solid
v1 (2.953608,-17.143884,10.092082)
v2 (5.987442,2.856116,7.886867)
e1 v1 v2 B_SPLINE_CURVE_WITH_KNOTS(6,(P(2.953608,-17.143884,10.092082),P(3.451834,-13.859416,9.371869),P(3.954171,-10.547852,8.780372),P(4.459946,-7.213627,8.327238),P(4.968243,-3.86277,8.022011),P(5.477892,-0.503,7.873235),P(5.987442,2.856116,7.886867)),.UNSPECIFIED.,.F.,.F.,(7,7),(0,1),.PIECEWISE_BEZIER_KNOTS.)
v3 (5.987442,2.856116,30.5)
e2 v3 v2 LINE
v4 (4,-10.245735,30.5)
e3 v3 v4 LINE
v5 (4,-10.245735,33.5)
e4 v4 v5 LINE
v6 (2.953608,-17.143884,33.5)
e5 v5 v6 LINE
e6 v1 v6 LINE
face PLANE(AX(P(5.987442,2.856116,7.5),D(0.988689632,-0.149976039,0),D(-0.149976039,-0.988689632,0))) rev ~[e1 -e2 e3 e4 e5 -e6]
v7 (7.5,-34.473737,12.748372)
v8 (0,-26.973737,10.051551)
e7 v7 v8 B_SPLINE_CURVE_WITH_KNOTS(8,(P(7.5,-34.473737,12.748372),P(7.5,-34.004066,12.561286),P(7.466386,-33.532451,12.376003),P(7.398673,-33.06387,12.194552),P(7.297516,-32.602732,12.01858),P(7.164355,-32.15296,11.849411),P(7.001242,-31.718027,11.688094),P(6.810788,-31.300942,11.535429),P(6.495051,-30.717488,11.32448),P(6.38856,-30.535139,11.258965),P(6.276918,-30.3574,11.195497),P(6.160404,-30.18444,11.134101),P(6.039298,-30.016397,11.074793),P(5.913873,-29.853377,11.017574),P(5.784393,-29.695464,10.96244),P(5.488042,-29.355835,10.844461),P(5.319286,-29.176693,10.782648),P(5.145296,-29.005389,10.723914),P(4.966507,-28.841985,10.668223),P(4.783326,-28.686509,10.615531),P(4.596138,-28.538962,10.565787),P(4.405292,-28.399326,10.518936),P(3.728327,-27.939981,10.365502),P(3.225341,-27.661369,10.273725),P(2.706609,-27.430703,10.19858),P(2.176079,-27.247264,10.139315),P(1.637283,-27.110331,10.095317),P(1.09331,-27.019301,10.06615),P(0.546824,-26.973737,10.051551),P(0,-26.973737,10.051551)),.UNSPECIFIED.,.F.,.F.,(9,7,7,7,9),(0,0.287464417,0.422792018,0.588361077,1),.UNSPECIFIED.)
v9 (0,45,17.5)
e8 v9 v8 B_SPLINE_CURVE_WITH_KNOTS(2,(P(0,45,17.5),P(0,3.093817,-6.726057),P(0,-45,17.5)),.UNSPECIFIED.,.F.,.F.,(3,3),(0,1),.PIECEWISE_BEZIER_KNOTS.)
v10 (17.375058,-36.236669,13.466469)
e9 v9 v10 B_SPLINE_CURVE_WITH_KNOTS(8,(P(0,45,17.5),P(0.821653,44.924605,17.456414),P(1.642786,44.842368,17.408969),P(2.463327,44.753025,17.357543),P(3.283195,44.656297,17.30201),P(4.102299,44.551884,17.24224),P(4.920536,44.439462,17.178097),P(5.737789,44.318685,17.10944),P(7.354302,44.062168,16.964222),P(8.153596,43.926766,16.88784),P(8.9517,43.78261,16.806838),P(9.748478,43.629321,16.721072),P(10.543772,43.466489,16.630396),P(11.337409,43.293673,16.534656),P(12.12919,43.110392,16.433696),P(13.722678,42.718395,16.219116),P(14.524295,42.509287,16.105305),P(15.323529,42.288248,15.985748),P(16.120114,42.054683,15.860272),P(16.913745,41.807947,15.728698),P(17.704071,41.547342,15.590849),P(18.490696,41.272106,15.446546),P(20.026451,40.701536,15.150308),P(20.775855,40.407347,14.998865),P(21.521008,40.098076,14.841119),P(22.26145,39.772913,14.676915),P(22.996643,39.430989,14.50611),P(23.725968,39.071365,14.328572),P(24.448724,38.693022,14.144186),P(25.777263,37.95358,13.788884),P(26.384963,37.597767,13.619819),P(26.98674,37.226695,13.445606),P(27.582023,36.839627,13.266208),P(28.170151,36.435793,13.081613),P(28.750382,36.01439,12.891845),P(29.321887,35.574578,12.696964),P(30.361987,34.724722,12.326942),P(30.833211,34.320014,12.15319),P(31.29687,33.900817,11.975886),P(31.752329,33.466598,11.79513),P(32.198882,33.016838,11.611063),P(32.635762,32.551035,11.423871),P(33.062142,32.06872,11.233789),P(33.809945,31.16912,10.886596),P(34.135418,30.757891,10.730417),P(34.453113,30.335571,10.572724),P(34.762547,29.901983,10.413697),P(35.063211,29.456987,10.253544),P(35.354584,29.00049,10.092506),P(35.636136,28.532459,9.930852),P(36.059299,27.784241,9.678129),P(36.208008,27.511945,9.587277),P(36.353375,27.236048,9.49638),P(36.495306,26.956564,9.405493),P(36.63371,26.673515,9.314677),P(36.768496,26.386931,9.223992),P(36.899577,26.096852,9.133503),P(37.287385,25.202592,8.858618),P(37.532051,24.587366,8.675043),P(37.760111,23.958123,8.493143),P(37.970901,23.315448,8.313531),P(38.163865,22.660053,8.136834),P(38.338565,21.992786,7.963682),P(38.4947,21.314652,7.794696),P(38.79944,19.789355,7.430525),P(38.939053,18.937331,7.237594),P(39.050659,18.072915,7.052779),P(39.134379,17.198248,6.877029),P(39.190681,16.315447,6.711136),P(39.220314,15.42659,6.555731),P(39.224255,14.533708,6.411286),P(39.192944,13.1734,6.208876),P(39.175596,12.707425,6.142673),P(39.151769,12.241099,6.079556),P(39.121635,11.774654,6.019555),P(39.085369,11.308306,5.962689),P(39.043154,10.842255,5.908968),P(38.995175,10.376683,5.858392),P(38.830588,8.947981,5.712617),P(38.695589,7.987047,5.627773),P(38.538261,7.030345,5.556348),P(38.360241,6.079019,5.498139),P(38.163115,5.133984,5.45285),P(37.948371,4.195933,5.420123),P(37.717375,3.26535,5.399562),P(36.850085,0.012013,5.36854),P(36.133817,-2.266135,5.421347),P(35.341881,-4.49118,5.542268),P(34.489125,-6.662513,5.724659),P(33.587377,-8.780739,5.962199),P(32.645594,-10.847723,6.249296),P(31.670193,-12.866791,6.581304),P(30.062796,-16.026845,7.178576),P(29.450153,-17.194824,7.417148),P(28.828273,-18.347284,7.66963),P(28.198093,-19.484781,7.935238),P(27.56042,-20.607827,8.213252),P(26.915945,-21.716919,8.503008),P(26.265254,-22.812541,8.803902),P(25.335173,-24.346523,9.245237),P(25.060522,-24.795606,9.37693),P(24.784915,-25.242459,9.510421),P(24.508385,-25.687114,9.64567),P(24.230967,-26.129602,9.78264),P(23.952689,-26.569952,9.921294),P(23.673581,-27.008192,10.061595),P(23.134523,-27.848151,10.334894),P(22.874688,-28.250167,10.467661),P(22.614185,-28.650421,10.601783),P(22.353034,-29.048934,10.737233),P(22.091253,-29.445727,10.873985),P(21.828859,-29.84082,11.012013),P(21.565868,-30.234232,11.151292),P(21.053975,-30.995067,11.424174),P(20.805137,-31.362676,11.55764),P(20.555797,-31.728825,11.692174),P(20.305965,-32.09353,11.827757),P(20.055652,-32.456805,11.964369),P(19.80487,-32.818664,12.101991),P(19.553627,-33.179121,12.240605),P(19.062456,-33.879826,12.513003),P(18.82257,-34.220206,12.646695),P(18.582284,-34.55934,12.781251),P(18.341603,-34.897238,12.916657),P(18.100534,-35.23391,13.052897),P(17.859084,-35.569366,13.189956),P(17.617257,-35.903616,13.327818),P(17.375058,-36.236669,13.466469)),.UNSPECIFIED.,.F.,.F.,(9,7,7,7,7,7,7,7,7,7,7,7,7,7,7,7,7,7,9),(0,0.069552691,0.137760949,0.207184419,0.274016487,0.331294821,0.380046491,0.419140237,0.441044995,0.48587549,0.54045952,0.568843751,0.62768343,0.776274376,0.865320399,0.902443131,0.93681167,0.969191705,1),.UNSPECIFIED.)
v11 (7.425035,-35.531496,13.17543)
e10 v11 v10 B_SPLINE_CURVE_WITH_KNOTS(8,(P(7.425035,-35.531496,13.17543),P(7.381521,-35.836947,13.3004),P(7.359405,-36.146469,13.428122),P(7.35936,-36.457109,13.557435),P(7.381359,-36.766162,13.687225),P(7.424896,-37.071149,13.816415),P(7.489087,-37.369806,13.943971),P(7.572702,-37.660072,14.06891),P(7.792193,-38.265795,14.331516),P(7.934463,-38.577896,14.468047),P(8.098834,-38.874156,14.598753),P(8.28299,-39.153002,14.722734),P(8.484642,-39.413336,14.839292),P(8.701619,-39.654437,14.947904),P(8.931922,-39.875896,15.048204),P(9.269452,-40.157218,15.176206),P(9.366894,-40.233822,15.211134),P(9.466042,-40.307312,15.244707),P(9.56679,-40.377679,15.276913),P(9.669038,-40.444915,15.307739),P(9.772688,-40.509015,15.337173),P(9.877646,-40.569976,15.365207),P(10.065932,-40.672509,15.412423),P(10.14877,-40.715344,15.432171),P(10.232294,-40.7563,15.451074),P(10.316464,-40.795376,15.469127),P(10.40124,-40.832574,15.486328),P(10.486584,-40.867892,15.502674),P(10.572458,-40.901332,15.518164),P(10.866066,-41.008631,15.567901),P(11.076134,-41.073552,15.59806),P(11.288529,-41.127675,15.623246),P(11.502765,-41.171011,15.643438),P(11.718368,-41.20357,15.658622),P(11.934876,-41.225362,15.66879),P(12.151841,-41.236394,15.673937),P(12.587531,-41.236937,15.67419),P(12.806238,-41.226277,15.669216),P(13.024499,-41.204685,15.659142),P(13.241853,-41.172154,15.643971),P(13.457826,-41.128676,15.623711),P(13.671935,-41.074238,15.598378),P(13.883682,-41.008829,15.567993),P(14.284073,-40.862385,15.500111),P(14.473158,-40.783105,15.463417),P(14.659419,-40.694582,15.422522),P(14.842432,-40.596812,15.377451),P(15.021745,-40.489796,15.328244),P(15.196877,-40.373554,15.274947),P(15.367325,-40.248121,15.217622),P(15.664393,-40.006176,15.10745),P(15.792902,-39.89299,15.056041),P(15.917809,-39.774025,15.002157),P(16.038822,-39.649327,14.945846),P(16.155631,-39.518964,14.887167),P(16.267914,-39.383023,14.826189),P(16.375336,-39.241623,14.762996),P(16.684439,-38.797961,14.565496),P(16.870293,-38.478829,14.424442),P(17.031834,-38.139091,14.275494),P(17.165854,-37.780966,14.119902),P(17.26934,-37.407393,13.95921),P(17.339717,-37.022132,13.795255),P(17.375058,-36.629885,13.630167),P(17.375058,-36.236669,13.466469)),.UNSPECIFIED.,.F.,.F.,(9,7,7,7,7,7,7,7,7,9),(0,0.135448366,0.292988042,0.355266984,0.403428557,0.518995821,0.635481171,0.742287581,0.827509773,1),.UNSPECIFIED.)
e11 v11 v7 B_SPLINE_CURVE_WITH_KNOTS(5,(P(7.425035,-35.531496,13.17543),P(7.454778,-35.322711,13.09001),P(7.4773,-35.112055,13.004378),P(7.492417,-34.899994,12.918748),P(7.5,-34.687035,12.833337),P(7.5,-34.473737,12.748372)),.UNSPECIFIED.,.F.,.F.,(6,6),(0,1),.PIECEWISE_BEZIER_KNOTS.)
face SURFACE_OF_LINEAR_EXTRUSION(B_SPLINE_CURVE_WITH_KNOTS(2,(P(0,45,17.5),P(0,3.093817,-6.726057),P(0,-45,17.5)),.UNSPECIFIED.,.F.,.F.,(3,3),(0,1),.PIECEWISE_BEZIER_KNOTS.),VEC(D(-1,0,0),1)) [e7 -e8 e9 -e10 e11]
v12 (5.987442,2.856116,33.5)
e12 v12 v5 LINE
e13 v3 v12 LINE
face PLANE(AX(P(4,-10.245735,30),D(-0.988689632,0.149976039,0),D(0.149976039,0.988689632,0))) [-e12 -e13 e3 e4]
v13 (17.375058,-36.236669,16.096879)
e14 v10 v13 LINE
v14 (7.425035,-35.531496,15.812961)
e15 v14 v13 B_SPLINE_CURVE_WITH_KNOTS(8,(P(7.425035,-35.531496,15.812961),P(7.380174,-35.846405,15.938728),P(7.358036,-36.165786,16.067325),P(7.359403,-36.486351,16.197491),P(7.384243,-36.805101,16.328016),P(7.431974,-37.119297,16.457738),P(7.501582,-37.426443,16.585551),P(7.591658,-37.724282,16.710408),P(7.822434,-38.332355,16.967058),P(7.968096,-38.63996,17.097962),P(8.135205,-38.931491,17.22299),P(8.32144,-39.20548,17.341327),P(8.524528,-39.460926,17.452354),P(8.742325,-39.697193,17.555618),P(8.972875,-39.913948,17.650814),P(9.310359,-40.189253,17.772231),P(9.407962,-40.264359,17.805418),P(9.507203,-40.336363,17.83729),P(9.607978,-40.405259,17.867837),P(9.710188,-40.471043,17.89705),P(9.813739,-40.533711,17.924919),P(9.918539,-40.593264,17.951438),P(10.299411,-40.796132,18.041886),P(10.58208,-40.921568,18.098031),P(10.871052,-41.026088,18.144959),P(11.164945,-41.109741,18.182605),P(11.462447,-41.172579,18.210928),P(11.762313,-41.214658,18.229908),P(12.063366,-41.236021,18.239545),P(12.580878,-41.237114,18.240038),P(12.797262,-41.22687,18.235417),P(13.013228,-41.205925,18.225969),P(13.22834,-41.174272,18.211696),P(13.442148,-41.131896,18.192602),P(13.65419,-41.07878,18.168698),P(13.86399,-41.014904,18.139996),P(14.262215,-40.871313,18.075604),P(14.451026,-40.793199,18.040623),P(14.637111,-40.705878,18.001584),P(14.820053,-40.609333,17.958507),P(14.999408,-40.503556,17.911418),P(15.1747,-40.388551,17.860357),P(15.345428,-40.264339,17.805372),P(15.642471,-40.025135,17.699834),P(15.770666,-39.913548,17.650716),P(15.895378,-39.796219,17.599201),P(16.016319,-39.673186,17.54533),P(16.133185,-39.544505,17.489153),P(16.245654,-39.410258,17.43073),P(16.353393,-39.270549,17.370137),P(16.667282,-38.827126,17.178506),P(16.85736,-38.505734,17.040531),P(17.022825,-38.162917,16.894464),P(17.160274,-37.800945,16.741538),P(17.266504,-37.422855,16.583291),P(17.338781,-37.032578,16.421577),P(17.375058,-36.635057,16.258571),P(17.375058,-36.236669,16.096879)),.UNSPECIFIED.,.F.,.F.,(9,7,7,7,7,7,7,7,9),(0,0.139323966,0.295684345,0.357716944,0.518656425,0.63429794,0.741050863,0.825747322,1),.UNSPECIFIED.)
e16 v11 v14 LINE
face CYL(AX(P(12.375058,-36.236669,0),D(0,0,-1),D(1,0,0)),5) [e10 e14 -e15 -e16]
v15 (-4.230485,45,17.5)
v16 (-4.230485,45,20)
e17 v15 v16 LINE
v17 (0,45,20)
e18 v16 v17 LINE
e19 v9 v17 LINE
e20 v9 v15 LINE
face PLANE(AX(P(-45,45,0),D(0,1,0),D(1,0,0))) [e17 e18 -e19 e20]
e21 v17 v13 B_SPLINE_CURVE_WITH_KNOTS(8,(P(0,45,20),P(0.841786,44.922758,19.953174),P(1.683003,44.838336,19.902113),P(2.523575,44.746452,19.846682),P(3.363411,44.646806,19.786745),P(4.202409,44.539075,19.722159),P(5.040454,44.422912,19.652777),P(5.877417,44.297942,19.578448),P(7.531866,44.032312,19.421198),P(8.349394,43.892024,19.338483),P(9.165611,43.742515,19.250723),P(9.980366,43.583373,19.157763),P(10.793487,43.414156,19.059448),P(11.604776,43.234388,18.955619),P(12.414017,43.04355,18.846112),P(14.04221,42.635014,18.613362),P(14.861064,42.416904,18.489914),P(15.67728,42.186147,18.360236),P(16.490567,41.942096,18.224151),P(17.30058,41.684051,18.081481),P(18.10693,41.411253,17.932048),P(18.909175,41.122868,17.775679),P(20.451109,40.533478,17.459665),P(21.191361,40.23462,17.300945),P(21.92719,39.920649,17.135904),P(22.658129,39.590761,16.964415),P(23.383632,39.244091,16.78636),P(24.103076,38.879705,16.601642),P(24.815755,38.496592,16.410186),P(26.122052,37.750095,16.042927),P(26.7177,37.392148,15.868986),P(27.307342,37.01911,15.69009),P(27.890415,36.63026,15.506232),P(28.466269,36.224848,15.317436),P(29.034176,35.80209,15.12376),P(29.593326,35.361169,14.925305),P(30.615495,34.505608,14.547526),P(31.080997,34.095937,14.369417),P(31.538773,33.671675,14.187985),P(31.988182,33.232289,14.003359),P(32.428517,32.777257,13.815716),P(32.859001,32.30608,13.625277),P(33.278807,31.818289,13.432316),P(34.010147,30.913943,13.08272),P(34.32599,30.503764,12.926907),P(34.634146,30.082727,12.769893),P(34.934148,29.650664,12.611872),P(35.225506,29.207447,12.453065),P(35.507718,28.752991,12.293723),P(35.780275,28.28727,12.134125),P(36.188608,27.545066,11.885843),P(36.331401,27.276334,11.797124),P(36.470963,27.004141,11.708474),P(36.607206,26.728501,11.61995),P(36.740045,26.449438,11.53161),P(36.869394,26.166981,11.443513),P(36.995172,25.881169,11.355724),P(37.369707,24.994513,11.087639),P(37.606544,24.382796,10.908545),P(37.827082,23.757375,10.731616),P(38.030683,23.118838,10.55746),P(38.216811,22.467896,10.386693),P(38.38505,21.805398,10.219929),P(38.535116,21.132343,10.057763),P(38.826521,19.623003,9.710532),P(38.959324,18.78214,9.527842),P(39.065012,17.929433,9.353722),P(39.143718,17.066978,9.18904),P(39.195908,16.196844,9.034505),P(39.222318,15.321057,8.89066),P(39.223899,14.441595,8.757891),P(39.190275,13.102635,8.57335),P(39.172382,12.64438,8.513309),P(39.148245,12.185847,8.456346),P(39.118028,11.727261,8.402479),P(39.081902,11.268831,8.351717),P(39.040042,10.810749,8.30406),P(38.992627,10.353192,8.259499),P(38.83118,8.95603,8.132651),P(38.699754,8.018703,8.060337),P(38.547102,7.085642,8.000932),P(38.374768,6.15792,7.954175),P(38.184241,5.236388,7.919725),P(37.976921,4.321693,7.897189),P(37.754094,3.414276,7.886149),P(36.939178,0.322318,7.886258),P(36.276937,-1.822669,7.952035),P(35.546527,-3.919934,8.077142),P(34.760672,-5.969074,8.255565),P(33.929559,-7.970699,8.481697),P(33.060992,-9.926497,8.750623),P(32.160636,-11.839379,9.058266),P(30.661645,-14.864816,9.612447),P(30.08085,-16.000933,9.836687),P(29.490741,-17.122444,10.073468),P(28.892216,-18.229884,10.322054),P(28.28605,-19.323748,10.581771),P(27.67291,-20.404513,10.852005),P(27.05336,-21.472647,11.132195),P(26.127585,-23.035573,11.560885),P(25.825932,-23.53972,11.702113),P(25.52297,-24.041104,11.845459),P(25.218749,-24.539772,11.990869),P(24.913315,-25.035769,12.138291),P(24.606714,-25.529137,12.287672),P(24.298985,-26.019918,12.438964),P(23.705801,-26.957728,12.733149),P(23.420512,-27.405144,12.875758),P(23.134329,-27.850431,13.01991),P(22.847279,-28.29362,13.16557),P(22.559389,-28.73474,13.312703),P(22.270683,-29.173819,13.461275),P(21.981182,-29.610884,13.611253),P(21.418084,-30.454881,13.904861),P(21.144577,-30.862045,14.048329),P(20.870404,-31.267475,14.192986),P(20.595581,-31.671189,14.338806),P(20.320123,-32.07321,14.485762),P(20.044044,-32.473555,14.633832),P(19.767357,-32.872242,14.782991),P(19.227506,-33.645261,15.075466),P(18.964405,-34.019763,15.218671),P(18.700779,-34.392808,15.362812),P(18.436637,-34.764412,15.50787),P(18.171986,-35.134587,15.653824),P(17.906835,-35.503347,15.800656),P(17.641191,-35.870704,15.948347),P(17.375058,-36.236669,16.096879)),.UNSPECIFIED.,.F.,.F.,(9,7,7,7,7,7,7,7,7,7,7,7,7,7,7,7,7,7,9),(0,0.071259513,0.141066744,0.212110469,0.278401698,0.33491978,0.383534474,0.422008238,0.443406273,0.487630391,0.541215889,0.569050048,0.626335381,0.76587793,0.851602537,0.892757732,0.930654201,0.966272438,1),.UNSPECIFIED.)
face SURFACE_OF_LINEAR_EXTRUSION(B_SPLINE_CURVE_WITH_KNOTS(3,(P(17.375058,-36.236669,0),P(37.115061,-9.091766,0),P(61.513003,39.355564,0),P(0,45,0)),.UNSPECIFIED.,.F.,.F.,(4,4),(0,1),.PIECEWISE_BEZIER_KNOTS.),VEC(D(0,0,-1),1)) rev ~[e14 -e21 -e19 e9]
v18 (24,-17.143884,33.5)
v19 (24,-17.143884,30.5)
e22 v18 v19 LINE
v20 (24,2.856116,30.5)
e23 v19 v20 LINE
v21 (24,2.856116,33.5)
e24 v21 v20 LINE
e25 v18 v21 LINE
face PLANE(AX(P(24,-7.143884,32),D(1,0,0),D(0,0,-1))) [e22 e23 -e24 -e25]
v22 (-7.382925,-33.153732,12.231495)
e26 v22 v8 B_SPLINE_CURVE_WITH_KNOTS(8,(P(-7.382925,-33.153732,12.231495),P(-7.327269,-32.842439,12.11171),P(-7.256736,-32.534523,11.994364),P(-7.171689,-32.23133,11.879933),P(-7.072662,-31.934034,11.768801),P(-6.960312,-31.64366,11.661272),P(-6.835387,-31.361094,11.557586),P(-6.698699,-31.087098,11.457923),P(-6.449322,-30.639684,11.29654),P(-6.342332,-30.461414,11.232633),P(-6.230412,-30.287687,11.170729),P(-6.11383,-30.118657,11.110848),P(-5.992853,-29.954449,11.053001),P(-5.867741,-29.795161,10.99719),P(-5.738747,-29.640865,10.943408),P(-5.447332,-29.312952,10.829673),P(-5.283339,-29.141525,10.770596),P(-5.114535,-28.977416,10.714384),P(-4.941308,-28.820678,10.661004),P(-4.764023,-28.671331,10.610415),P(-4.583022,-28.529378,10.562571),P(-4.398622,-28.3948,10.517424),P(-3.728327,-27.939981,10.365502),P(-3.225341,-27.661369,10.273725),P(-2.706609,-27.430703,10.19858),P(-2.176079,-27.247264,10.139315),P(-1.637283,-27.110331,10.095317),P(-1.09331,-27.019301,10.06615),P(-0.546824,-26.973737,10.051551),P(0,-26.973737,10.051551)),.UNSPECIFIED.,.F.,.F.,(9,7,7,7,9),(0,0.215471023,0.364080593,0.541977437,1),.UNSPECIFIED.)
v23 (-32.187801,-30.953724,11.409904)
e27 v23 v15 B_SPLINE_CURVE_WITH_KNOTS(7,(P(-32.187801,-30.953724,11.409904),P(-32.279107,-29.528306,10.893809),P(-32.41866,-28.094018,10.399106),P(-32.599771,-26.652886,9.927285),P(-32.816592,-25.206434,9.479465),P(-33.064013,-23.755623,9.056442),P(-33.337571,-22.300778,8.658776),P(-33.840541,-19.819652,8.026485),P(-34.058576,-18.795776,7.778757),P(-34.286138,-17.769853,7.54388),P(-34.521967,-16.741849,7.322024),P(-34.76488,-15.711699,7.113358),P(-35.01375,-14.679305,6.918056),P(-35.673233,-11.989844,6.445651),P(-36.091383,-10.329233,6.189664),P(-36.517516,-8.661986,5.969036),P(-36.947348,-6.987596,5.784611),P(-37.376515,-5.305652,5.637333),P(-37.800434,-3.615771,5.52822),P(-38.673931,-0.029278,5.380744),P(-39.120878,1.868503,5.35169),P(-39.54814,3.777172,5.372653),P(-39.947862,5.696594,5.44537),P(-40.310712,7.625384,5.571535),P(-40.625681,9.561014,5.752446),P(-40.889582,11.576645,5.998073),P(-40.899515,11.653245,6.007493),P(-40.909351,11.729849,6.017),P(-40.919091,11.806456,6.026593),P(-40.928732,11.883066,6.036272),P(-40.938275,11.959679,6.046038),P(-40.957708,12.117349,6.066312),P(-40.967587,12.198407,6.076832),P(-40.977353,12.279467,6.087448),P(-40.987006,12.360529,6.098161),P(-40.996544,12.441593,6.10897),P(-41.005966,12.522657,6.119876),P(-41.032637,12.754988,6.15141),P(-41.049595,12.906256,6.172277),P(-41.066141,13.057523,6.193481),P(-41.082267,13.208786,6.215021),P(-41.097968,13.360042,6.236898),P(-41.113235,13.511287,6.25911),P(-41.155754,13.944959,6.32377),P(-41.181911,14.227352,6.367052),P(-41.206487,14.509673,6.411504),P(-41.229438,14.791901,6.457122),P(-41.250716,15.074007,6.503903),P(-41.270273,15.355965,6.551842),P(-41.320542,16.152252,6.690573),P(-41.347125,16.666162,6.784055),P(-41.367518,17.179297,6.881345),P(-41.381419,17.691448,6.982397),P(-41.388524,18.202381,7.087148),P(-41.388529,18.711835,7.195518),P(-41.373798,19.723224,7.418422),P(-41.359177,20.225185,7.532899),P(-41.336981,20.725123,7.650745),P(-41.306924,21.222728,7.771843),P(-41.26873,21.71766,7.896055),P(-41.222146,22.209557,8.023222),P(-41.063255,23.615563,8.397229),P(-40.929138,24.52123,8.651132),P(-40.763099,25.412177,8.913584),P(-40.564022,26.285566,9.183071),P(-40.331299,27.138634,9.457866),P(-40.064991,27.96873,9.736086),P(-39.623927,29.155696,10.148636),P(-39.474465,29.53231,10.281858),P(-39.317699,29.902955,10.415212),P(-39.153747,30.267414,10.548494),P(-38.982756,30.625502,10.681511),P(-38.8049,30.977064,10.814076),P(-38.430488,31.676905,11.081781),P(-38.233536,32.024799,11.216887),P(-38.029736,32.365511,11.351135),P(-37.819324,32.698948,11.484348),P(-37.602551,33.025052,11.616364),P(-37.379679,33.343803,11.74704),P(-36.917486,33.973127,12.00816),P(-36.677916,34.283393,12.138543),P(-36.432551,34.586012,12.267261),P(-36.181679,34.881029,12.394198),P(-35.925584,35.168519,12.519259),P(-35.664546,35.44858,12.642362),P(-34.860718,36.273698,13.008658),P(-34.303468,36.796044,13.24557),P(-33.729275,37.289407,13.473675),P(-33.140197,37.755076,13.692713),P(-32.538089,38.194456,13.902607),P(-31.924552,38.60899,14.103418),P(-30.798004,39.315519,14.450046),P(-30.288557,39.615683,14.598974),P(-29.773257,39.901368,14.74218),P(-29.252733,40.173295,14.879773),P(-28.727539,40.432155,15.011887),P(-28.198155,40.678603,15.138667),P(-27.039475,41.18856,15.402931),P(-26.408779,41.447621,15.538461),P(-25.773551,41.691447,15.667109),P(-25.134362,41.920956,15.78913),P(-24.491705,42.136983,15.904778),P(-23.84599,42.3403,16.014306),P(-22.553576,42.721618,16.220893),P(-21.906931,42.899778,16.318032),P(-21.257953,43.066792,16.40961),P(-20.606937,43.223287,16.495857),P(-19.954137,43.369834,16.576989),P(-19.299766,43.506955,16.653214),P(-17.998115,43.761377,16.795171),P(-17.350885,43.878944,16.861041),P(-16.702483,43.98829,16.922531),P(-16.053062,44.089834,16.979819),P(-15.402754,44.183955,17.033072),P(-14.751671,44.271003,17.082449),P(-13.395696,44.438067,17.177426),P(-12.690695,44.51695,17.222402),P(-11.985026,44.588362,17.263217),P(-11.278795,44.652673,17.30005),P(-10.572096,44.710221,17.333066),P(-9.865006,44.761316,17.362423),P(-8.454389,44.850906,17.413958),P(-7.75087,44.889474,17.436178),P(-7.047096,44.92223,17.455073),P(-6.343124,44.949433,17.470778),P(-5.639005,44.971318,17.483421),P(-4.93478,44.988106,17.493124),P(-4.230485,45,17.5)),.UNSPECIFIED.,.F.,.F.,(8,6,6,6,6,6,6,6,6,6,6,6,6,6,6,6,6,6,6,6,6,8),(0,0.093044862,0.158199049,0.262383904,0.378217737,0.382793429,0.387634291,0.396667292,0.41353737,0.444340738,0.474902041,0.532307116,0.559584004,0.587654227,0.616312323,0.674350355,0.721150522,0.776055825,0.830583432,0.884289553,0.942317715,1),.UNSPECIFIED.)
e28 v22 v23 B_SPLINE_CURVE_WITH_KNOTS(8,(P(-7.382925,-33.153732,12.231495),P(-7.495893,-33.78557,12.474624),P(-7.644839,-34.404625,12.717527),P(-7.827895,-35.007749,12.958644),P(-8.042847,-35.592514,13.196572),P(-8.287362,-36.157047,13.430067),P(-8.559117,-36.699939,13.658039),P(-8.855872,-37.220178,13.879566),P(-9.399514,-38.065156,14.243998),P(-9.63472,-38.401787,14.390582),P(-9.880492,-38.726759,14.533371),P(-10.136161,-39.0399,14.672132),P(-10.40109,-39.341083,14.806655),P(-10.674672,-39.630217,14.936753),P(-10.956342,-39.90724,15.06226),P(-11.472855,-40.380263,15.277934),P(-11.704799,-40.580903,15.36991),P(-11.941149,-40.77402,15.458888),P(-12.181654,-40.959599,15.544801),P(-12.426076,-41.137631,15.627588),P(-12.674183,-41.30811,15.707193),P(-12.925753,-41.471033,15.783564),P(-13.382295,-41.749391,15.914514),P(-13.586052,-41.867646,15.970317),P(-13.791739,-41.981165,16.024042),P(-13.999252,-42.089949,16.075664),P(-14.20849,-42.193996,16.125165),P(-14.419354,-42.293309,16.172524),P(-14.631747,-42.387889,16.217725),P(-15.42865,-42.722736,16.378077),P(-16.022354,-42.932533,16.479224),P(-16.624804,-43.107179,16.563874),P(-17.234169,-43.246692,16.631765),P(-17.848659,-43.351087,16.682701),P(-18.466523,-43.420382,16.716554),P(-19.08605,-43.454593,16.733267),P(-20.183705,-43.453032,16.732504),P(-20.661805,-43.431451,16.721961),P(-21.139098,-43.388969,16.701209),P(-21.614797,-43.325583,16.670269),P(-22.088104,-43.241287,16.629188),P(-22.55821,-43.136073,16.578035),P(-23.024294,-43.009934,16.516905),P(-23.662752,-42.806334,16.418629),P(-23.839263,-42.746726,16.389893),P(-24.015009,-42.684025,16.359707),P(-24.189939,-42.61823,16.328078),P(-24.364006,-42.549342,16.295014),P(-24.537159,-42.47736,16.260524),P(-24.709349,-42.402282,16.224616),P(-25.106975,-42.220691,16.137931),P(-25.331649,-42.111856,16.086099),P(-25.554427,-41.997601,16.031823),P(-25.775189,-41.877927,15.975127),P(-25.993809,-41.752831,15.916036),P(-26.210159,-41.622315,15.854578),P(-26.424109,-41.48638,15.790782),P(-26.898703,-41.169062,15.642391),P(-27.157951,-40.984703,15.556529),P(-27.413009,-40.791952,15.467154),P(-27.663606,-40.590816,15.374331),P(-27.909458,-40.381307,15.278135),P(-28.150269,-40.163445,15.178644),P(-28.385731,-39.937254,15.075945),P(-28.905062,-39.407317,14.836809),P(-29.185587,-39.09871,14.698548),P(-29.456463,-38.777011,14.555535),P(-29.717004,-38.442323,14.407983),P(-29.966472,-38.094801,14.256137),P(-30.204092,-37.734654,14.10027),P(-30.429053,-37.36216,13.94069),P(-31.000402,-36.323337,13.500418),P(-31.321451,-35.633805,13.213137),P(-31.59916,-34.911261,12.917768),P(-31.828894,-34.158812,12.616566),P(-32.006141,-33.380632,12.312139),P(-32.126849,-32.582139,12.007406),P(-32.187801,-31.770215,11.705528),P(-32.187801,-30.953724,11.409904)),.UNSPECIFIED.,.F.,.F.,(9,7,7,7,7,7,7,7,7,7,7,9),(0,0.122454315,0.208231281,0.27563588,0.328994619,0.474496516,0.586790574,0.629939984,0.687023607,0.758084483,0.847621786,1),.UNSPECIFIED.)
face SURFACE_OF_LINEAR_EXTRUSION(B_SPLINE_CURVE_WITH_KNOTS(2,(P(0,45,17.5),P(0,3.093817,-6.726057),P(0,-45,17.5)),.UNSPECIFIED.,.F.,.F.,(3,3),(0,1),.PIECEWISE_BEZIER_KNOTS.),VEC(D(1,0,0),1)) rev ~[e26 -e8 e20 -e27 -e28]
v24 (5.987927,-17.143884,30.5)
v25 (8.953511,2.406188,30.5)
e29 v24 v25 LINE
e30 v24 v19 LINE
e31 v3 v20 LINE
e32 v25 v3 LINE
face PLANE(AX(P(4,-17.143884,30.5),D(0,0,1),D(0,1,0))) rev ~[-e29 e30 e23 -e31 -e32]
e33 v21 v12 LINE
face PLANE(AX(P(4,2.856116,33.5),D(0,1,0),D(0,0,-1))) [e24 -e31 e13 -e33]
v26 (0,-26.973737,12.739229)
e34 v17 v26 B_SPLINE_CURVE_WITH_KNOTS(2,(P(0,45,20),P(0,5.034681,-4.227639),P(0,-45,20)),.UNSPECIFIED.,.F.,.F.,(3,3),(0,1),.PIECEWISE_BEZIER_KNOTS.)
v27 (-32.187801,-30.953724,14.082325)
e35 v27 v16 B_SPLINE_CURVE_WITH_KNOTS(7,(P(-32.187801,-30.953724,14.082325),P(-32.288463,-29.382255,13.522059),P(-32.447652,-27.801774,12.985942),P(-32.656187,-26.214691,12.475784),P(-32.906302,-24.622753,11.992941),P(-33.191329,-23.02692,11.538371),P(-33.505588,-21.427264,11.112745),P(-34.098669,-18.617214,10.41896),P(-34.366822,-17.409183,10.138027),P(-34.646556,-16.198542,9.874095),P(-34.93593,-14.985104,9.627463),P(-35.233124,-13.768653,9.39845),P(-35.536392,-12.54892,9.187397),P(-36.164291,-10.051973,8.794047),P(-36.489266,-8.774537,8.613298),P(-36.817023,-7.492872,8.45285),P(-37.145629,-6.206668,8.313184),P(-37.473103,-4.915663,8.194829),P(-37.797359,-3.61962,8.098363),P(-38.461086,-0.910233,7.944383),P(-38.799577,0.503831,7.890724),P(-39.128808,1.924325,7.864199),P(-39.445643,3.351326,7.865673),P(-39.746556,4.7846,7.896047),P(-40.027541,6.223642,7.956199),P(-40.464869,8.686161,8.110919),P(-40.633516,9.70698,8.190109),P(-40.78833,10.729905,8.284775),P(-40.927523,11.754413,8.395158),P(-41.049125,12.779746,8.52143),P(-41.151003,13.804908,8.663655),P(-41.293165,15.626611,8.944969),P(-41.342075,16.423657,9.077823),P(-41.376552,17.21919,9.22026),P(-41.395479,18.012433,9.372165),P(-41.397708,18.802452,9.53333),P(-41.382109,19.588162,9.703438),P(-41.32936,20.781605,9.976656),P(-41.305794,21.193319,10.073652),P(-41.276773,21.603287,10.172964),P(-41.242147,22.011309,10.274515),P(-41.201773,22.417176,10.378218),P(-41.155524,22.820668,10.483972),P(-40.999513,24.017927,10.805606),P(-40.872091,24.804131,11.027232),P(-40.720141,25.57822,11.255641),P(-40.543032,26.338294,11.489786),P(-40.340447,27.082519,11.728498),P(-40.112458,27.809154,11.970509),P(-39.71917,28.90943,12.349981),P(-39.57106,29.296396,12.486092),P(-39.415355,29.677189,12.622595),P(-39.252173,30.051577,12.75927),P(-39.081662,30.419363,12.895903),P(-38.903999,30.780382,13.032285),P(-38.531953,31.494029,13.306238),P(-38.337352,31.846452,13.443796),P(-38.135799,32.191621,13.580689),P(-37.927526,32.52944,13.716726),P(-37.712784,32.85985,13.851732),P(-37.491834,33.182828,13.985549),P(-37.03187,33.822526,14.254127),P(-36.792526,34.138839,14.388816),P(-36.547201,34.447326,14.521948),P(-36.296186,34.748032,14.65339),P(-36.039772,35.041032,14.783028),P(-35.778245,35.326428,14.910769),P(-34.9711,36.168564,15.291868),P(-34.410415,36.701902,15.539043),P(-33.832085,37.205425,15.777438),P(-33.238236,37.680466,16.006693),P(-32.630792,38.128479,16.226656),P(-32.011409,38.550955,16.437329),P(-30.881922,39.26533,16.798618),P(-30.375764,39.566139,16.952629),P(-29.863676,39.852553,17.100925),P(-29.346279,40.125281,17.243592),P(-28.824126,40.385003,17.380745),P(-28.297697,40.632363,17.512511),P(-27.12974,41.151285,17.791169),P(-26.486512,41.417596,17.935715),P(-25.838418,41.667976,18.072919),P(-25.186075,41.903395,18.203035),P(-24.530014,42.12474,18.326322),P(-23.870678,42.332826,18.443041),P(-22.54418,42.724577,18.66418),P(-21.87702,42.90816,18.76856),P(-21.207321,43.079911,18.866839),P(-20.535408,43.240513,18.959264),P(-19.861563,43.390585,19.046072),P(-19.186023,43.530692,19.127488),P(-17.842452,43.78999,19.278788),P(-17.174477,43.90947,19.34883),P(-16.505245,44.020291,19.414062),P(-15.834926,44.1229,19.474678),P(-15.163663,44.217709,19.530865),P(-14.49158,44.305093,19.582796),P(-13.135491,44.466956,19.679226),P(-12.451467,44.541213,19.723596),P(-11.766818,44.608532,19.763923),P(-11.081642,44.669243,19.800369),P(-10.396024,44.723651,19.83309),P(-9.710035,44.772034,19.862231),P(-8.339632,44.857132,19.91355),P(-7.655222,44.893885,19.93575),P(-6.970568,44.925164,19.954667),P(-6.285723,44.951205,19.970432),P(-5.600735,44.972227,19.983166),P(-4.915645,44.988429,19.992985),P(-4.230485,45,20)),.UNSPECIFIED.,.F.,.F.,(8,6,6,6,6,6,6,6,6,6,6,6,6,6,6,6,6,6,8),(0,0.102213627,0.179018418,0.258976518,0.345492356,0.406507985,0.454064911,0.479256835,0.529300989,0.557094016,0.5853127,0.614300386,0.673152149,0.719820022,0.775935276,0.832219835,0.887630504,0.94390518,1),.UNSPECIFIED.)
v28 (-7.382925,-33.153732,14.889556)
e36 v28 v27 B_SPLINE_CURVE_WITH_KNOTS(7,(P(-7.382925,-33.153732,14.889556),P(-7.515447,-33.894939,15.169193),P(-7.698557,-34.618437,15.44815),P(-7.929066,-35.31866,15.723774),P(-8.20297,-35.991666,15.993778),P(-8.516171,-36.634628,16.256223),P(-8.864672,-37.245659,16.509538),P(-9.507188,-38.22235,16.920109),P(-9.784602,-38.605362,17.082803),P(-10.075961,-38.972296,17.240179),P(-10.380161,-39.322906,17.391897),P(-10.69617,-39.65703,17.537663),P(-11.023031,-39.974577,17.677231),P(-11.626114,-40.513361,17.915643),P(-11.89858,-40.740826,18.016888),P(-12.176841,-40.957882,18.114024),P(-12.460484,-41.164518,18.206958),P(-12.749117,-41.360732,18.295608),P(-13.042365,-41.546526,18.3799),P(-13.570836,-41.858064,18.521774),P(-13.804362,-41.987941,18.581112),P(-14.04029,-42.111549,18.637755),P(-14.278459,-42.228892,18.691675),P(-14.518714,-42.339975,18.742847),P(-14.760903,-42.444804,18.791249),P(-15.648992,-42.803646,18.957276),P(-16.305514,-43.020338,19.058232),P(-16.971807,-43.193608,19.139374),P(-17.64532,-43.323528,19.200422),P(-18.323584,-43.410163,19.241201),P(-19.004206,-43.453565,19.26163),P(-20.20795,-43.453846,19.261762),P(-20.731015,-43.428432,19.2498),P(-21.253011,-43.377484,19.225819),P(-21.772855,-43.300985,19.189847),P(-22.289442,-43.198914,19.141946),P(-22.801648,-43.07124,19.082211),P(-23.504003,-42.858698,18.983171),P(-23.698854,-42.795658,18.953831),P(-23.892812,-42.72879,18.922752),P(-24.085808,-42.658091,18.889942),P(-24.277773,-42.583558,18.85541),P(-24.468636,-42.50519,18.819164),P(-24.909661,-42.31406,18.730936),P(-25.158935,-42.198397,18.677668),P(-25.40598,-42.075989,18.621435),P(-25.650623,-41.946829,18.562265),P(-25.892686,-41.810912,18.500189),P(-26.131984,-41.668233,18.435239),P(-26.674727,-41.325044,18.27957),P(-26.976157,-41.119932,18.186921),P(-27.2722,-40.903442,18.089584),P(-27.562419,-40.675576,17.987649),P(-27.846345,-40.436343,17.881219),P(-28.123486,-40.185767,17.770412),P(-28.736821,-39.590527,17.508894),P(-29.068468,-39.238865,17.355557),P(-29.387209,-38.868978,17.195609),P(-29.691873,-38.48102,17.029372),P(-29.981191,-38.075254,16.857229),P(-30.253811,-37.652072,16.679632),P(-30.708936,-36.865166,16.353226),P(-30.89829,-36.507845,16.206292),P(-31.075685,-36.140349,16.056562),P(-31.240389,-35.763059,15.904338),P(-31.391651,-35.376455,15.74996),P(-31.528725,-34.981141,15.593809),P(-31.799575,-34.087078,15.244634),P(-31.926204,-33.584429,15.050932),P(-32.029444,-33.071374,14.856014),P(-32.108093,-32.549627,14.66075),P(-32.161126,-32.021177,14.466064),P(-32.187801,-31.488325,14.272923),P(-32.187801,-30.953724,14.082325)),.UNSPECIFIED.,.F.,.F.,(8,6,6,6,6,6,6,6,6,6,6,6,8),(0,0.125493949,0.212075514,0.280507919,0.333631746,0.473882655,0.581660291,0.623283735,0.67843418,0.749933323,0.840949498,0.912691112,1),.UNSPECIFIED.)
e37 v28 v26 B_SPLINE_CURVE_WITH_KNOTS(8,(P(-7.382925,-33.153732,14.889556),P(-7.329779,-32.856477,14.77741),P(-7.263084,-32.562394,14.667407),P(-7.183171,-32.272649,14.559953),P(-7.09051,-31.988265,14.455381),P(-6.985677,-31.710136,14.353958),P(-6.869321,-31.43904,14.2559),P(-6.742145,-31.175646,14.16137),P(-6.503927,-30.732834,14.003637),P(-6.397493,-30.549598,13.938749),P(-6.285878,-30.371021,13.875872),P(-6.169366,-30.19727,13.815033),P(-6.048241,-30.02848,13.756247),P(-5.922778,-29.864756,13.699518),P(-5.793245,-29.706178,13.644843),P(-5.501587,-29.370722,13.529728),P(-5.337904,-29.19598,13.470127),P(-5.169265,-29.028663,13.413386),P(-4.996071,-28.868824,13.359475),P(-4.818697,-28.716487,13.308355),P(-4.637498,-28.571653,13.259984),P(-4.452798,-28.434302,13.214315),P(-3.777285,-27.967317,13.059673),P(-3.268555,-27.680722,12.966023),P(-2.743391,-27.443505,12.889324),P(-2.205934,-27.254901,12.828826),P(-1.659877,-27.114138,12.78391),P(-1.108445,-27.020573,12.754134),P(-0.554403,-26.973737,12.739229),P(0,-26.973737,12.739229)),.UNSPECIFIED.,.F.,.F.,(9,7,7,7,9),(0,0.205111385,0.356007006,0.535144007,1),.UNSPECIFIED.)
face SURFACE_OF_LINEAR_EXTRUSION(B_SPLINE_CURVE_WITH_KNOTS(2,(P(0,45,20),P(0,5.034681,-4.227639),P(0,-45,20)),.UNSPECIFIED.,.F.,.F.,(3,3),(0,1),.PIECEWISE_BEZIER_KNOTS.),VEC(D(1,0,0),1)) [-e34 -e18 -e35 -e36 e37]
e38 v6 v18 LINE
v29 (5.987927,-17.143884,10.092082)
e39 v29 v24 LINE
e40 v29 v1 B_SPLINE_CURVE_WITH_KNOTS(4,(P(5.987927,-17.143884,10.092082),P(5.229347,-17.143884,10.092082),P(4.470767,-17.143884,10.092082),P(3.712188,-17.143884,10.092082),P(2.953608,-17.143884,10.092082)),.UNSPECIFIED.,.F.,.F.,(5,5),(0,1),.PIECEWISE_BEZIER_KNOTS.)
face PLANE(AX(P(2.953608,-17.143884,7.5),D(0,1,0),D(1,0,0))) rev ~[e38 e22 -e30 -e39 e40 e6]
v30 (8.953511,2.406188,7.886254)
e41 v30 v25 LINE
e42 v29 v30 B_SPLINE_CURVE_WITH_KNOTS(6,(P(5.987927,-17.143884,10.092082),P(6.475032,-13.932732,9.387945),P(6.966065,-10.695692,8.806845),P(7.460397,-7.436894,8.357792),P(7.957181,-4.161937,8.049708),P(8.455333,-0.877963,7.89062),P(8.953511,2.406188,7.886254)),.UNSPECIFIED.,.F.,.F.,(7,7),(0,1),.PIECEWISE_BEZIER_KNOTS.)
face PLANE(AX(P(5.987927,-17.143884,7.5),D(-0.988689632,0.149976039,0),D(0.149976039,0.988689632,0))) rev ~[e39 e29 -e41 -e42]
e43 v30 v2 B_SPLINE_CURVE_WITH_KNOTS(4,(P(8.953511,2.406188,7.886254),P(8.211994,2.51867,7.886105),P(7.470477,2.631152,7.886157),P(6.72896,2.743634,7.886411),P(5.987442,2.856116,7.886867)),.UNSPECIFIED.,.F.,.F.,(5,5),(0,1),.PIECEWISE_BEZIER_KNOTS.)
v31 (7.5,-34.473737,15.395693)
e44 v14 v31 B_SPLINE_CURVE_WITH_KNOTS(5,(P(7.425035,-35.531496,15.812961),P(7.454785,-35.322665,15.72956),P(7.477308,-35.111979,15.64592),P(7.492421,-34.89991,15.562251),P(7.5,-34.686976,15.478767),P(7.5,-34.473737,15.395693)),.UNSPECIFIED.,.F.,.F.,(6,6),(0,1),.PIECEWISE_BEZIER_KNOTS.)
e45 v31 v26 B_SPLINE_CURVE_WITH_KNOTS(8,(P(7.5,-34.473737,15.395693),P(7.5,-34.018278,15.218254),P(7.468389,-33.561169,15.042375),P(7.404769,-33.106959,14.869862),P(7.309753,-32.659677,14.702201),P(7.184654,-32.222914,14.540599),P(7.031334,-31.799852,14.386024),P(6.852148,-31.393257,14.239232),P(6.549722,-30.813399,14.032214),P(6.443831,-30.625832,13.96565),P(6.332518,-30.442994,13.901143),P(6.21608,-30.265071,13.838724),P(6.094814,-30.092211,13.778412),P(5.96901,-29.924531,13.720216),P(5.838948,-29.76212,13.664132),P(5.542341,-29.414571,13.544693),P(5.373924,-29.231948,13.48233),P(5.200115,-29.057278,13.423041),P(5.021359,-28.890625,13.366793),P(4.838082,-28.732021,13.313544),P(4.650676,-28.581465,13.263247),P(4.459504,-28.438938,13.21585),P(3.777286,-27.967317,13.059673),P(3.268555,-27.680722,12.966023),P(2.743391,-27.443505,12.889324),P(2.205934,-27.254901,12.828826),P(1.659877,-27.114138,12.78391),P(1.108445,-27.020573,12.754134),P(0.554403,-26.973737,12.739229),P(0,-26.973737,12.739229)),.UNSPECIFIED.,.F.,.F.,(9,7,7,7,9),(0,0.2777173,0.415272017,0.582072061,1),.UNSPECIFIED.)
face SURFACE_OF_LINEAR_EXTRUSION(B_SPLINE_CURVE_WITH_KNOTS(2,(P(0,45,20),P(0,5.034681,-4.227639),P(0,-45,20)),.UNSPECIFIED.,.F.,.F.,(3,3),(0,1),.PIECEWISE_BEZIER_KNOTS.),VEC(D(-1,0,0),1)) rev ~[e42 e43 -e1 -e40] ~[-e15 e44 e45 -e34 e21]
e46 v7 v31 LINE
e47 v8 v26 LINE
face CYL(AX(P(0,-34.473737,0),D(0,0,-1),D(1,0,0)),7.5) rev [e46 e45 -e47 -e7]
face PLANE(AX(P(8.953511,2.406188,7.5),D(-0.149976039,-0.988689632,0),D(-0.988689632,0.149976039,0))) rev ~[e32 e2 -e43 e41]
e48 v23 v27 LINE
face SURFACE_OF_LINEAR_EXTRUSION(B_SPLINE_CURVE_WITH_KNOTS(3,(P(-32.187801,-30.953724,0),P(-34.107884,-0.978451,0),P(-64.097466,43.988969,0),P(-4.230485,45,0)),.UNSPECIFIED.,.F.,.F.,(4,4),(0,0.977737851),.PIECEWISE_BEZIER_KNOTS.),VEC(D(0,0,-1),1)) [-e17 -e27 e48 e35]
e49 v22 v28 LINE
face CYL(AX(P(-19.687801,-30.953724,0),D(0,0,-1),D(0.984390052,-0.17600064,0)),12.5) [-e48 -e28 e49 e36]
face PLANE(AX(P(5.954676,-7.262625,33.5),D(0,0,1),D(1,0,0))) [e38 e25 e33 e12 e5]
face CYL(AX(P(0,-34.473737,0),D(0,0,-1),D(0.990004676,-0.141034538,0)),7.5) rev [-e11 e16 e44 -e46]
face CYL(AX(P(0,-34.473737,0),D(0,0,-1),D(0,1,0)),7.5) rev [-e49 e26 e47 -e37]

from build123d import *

# Parameters (mm, degrees)
SKETCH2_W               = 90
SKETCH2_H               = 90
BOSS_EXTRUDE1_DEPTH     = 20
CUT_EXTRUDE1_DEPTH      = 67.708320321
CUT_EXTRUDE1_DEPTH_BACK = 67.708320321
CUT_EXTRUDE2_DEPTH      = 67.708320486
CUT_EXTRUDE2_DEPTH_BACK = 67.708320486
BOSS_EXTRUDE2_START     = 7.5
BOSS_EXTRUDE2_DEPTH     = 26
BOSS_EXTRUDE3_START     = 4
SKETCH6_W               = 3
SKETCH6_H               = 20
BOSS_EXTRUDE3_DEPTH     = 20
CUT_EXTRUDE3_START      = 30
CUT_EXTRUDE3_DEPTH      = 10


with BuildPart() as part:
    # Sketch2 → Boss-Extrude1 (new body)
    with BuildSketch(Plane.XY):
        Rectangle(SKETCH2_W, SKETCH2_H)
    extrude(amount=BOSS_EXTRUDE1_DEPTH)

    # Sketch3 → Cut-Extrude1 (cut, two sides)
    with BuildSketch(Plane(origin=(0, 0, 0), x_dir=(0, 0, -1), z_dir=(1, 0, 0))) as cut_extrude1_sk:
        with BuildLine():
            Line((0, -45), (0, 45))
            Line((0, 45), (-17.5, 45))
            add(Edge.make_bspline(
                [(-17.5, 45), (6.726056833, 3.093816892), (-17.5, -45)],
                knots=[0, 0, 0, 1, 1, 1], degree=2))
            Line((-17.5, -45), (0, -45))
        make_face()
        with BuildLine():
            add(Edge.make_bspline(
                [(-20, 45), (4.227639313, 5.03468062), (-20, -45)],
                knots=[0, 0, 0, 1, 1, 1], degree=2))
            Line((-20, -45), (-20, 45))
        make_face()
    extrude(amount=CUT_EXTRUDE1_DEPTH, mode=Mode.SUBTRACT)
    extrude(cut_extrude1_sk.sketch, amount=-CUT_EXTRUDE1_DEPTH_BACK, mode=Mode.SUBTRACT)

    # Sketch4 → Cut-Extrude2 (cut, two sides)
    with BuildSketch(Plane.XY) as cut_extrude2_sk:
        with BuildLine():
            Line((0, -41.973736842), (0, -45))
            Line((0, -45), (45, -45))
            Line((45, -45), (45, 45))
            Line((45, 45), (0, 45))
            add(Edge.make_bspline(
                [(17.375058461, -36.236668515), (37.115061452, -9.091765806), (61.513002786, 39.355563534), (0, 45)],
                knots=[0, 0, 0, 0, 1, 1, 1, 1], degree=3))
            ThreePointArc((17.375058461, -36.236668515), (12.021587761, -41.224158712), (7.425035075, -35.531495855))
            ThreePointArc((7.425035075, -35.531495855), (4.915119907, -40.138681352), (0, -41.973736842))
        make_face()
        with BuildLine():
            Line((-45, -45), (0, -45))
            Line((0, -45), (0, -41.973736842))
            ThreePointArc((0, -41.973736842), (-5.751088308, -39.287777066), (-7.382925452, -33.153732383))
            ThreePointArc((-7.382925452, -33.153732383), (-20.792123146, -43.404847745), (-32.187801105, -30.953724389))
            add(Edge.make_bspline(
                [(-32.187801105, -30.953724389), (-34.107884409, -0.978450852), (-64.097466043, 43.988968502), (-4.230485268, 45)],
                knots=[0, 0, 0, 0, 0.977737851, 0.977737851, 0.977737851, 0.977737851], degree=3))
            Line((-4.230485268, 45), (-45, 45))
            Line((-45, 45), (-45, -45))
        make_face()
        with BuildLine():
            ThreePointArc((-7.382925452, -33.153732383), (-5.751088308, -39.287777066), (0, -41.973736842))
            Line((0, -41.973736842), (0, -26.973736842))
            ThreePointArc((0, -26.973736842), (-4.814040224, -28.722648535), (-7.382925452, -33.153732383))
        make_face()
        with BuildLine():
            Line((0, -26.973736842), (0, -41.973736842))
            ThreePointArc((0, -41.973736842), (4.915119907, -40.138681352), (7.425035075, -35.531495855))
            ThreePointArc((7.425035075, -35.531495855), (7.481235295, -35.003942903), (7.5, -34.473736842))
            ThreePointArc((7.5, -34.473736842), (5.303300859, -29.170435983), (0, -26.973736842))
        make_face()
    extrude(amount=CUT_EXTRUDE2_DEPTH, mode=Mode.SUBTRACT)
    extrude(cut_extrude2_sk.sketch, amount=-CUT_EXTRUDE2_DEPTH_BACK, mode=Mode.SUBTRACT)

    # Sketch5 → Boss-Extrude2 (add)
    with BuildSketch(Plane.XY.offset(BOSS_EXTRUDE2_START)):
        Polygon((5.987927079, -17.143883964), (8.953511265, 2.40618792), (5.98744237, 2.856116036), (2.953607811, -17.143883964), align=None)
    extrude(amount=BOSS_EXTRUDE2_DEPTH)

    # Sketch6 → Boss-Extrude3 (add)
    with BuildSketch(Plane(origin=(0, 0, 0), x_dir=(0, 0, -1), z_dir=(1, 0, 0)).offset(BOSS_EXTRUDE3_START)):
        with Locations((-32, -7.143883964)):
            Rectangle(SKETCH6_W, SKETCH6_H)
    extrude(amount=BOSS_EXTRUDE3_DEPTH)

    # Sketch7 → Cut-Extrude3 (cut)
    with BuildSketch(Plane.XY.offset(CUT_EXTRUDE3_START)):
        Polygon((4, -10.245734651), (5.98744237, 2.856116036), (3.019616762, 2.856116036), (3.582073592, -13.000838136), align=None)
    extrude(amount=CUT_EXTRUDE3_DEPTH, mode=Mode.SUBTRACT)


solid = part.part
